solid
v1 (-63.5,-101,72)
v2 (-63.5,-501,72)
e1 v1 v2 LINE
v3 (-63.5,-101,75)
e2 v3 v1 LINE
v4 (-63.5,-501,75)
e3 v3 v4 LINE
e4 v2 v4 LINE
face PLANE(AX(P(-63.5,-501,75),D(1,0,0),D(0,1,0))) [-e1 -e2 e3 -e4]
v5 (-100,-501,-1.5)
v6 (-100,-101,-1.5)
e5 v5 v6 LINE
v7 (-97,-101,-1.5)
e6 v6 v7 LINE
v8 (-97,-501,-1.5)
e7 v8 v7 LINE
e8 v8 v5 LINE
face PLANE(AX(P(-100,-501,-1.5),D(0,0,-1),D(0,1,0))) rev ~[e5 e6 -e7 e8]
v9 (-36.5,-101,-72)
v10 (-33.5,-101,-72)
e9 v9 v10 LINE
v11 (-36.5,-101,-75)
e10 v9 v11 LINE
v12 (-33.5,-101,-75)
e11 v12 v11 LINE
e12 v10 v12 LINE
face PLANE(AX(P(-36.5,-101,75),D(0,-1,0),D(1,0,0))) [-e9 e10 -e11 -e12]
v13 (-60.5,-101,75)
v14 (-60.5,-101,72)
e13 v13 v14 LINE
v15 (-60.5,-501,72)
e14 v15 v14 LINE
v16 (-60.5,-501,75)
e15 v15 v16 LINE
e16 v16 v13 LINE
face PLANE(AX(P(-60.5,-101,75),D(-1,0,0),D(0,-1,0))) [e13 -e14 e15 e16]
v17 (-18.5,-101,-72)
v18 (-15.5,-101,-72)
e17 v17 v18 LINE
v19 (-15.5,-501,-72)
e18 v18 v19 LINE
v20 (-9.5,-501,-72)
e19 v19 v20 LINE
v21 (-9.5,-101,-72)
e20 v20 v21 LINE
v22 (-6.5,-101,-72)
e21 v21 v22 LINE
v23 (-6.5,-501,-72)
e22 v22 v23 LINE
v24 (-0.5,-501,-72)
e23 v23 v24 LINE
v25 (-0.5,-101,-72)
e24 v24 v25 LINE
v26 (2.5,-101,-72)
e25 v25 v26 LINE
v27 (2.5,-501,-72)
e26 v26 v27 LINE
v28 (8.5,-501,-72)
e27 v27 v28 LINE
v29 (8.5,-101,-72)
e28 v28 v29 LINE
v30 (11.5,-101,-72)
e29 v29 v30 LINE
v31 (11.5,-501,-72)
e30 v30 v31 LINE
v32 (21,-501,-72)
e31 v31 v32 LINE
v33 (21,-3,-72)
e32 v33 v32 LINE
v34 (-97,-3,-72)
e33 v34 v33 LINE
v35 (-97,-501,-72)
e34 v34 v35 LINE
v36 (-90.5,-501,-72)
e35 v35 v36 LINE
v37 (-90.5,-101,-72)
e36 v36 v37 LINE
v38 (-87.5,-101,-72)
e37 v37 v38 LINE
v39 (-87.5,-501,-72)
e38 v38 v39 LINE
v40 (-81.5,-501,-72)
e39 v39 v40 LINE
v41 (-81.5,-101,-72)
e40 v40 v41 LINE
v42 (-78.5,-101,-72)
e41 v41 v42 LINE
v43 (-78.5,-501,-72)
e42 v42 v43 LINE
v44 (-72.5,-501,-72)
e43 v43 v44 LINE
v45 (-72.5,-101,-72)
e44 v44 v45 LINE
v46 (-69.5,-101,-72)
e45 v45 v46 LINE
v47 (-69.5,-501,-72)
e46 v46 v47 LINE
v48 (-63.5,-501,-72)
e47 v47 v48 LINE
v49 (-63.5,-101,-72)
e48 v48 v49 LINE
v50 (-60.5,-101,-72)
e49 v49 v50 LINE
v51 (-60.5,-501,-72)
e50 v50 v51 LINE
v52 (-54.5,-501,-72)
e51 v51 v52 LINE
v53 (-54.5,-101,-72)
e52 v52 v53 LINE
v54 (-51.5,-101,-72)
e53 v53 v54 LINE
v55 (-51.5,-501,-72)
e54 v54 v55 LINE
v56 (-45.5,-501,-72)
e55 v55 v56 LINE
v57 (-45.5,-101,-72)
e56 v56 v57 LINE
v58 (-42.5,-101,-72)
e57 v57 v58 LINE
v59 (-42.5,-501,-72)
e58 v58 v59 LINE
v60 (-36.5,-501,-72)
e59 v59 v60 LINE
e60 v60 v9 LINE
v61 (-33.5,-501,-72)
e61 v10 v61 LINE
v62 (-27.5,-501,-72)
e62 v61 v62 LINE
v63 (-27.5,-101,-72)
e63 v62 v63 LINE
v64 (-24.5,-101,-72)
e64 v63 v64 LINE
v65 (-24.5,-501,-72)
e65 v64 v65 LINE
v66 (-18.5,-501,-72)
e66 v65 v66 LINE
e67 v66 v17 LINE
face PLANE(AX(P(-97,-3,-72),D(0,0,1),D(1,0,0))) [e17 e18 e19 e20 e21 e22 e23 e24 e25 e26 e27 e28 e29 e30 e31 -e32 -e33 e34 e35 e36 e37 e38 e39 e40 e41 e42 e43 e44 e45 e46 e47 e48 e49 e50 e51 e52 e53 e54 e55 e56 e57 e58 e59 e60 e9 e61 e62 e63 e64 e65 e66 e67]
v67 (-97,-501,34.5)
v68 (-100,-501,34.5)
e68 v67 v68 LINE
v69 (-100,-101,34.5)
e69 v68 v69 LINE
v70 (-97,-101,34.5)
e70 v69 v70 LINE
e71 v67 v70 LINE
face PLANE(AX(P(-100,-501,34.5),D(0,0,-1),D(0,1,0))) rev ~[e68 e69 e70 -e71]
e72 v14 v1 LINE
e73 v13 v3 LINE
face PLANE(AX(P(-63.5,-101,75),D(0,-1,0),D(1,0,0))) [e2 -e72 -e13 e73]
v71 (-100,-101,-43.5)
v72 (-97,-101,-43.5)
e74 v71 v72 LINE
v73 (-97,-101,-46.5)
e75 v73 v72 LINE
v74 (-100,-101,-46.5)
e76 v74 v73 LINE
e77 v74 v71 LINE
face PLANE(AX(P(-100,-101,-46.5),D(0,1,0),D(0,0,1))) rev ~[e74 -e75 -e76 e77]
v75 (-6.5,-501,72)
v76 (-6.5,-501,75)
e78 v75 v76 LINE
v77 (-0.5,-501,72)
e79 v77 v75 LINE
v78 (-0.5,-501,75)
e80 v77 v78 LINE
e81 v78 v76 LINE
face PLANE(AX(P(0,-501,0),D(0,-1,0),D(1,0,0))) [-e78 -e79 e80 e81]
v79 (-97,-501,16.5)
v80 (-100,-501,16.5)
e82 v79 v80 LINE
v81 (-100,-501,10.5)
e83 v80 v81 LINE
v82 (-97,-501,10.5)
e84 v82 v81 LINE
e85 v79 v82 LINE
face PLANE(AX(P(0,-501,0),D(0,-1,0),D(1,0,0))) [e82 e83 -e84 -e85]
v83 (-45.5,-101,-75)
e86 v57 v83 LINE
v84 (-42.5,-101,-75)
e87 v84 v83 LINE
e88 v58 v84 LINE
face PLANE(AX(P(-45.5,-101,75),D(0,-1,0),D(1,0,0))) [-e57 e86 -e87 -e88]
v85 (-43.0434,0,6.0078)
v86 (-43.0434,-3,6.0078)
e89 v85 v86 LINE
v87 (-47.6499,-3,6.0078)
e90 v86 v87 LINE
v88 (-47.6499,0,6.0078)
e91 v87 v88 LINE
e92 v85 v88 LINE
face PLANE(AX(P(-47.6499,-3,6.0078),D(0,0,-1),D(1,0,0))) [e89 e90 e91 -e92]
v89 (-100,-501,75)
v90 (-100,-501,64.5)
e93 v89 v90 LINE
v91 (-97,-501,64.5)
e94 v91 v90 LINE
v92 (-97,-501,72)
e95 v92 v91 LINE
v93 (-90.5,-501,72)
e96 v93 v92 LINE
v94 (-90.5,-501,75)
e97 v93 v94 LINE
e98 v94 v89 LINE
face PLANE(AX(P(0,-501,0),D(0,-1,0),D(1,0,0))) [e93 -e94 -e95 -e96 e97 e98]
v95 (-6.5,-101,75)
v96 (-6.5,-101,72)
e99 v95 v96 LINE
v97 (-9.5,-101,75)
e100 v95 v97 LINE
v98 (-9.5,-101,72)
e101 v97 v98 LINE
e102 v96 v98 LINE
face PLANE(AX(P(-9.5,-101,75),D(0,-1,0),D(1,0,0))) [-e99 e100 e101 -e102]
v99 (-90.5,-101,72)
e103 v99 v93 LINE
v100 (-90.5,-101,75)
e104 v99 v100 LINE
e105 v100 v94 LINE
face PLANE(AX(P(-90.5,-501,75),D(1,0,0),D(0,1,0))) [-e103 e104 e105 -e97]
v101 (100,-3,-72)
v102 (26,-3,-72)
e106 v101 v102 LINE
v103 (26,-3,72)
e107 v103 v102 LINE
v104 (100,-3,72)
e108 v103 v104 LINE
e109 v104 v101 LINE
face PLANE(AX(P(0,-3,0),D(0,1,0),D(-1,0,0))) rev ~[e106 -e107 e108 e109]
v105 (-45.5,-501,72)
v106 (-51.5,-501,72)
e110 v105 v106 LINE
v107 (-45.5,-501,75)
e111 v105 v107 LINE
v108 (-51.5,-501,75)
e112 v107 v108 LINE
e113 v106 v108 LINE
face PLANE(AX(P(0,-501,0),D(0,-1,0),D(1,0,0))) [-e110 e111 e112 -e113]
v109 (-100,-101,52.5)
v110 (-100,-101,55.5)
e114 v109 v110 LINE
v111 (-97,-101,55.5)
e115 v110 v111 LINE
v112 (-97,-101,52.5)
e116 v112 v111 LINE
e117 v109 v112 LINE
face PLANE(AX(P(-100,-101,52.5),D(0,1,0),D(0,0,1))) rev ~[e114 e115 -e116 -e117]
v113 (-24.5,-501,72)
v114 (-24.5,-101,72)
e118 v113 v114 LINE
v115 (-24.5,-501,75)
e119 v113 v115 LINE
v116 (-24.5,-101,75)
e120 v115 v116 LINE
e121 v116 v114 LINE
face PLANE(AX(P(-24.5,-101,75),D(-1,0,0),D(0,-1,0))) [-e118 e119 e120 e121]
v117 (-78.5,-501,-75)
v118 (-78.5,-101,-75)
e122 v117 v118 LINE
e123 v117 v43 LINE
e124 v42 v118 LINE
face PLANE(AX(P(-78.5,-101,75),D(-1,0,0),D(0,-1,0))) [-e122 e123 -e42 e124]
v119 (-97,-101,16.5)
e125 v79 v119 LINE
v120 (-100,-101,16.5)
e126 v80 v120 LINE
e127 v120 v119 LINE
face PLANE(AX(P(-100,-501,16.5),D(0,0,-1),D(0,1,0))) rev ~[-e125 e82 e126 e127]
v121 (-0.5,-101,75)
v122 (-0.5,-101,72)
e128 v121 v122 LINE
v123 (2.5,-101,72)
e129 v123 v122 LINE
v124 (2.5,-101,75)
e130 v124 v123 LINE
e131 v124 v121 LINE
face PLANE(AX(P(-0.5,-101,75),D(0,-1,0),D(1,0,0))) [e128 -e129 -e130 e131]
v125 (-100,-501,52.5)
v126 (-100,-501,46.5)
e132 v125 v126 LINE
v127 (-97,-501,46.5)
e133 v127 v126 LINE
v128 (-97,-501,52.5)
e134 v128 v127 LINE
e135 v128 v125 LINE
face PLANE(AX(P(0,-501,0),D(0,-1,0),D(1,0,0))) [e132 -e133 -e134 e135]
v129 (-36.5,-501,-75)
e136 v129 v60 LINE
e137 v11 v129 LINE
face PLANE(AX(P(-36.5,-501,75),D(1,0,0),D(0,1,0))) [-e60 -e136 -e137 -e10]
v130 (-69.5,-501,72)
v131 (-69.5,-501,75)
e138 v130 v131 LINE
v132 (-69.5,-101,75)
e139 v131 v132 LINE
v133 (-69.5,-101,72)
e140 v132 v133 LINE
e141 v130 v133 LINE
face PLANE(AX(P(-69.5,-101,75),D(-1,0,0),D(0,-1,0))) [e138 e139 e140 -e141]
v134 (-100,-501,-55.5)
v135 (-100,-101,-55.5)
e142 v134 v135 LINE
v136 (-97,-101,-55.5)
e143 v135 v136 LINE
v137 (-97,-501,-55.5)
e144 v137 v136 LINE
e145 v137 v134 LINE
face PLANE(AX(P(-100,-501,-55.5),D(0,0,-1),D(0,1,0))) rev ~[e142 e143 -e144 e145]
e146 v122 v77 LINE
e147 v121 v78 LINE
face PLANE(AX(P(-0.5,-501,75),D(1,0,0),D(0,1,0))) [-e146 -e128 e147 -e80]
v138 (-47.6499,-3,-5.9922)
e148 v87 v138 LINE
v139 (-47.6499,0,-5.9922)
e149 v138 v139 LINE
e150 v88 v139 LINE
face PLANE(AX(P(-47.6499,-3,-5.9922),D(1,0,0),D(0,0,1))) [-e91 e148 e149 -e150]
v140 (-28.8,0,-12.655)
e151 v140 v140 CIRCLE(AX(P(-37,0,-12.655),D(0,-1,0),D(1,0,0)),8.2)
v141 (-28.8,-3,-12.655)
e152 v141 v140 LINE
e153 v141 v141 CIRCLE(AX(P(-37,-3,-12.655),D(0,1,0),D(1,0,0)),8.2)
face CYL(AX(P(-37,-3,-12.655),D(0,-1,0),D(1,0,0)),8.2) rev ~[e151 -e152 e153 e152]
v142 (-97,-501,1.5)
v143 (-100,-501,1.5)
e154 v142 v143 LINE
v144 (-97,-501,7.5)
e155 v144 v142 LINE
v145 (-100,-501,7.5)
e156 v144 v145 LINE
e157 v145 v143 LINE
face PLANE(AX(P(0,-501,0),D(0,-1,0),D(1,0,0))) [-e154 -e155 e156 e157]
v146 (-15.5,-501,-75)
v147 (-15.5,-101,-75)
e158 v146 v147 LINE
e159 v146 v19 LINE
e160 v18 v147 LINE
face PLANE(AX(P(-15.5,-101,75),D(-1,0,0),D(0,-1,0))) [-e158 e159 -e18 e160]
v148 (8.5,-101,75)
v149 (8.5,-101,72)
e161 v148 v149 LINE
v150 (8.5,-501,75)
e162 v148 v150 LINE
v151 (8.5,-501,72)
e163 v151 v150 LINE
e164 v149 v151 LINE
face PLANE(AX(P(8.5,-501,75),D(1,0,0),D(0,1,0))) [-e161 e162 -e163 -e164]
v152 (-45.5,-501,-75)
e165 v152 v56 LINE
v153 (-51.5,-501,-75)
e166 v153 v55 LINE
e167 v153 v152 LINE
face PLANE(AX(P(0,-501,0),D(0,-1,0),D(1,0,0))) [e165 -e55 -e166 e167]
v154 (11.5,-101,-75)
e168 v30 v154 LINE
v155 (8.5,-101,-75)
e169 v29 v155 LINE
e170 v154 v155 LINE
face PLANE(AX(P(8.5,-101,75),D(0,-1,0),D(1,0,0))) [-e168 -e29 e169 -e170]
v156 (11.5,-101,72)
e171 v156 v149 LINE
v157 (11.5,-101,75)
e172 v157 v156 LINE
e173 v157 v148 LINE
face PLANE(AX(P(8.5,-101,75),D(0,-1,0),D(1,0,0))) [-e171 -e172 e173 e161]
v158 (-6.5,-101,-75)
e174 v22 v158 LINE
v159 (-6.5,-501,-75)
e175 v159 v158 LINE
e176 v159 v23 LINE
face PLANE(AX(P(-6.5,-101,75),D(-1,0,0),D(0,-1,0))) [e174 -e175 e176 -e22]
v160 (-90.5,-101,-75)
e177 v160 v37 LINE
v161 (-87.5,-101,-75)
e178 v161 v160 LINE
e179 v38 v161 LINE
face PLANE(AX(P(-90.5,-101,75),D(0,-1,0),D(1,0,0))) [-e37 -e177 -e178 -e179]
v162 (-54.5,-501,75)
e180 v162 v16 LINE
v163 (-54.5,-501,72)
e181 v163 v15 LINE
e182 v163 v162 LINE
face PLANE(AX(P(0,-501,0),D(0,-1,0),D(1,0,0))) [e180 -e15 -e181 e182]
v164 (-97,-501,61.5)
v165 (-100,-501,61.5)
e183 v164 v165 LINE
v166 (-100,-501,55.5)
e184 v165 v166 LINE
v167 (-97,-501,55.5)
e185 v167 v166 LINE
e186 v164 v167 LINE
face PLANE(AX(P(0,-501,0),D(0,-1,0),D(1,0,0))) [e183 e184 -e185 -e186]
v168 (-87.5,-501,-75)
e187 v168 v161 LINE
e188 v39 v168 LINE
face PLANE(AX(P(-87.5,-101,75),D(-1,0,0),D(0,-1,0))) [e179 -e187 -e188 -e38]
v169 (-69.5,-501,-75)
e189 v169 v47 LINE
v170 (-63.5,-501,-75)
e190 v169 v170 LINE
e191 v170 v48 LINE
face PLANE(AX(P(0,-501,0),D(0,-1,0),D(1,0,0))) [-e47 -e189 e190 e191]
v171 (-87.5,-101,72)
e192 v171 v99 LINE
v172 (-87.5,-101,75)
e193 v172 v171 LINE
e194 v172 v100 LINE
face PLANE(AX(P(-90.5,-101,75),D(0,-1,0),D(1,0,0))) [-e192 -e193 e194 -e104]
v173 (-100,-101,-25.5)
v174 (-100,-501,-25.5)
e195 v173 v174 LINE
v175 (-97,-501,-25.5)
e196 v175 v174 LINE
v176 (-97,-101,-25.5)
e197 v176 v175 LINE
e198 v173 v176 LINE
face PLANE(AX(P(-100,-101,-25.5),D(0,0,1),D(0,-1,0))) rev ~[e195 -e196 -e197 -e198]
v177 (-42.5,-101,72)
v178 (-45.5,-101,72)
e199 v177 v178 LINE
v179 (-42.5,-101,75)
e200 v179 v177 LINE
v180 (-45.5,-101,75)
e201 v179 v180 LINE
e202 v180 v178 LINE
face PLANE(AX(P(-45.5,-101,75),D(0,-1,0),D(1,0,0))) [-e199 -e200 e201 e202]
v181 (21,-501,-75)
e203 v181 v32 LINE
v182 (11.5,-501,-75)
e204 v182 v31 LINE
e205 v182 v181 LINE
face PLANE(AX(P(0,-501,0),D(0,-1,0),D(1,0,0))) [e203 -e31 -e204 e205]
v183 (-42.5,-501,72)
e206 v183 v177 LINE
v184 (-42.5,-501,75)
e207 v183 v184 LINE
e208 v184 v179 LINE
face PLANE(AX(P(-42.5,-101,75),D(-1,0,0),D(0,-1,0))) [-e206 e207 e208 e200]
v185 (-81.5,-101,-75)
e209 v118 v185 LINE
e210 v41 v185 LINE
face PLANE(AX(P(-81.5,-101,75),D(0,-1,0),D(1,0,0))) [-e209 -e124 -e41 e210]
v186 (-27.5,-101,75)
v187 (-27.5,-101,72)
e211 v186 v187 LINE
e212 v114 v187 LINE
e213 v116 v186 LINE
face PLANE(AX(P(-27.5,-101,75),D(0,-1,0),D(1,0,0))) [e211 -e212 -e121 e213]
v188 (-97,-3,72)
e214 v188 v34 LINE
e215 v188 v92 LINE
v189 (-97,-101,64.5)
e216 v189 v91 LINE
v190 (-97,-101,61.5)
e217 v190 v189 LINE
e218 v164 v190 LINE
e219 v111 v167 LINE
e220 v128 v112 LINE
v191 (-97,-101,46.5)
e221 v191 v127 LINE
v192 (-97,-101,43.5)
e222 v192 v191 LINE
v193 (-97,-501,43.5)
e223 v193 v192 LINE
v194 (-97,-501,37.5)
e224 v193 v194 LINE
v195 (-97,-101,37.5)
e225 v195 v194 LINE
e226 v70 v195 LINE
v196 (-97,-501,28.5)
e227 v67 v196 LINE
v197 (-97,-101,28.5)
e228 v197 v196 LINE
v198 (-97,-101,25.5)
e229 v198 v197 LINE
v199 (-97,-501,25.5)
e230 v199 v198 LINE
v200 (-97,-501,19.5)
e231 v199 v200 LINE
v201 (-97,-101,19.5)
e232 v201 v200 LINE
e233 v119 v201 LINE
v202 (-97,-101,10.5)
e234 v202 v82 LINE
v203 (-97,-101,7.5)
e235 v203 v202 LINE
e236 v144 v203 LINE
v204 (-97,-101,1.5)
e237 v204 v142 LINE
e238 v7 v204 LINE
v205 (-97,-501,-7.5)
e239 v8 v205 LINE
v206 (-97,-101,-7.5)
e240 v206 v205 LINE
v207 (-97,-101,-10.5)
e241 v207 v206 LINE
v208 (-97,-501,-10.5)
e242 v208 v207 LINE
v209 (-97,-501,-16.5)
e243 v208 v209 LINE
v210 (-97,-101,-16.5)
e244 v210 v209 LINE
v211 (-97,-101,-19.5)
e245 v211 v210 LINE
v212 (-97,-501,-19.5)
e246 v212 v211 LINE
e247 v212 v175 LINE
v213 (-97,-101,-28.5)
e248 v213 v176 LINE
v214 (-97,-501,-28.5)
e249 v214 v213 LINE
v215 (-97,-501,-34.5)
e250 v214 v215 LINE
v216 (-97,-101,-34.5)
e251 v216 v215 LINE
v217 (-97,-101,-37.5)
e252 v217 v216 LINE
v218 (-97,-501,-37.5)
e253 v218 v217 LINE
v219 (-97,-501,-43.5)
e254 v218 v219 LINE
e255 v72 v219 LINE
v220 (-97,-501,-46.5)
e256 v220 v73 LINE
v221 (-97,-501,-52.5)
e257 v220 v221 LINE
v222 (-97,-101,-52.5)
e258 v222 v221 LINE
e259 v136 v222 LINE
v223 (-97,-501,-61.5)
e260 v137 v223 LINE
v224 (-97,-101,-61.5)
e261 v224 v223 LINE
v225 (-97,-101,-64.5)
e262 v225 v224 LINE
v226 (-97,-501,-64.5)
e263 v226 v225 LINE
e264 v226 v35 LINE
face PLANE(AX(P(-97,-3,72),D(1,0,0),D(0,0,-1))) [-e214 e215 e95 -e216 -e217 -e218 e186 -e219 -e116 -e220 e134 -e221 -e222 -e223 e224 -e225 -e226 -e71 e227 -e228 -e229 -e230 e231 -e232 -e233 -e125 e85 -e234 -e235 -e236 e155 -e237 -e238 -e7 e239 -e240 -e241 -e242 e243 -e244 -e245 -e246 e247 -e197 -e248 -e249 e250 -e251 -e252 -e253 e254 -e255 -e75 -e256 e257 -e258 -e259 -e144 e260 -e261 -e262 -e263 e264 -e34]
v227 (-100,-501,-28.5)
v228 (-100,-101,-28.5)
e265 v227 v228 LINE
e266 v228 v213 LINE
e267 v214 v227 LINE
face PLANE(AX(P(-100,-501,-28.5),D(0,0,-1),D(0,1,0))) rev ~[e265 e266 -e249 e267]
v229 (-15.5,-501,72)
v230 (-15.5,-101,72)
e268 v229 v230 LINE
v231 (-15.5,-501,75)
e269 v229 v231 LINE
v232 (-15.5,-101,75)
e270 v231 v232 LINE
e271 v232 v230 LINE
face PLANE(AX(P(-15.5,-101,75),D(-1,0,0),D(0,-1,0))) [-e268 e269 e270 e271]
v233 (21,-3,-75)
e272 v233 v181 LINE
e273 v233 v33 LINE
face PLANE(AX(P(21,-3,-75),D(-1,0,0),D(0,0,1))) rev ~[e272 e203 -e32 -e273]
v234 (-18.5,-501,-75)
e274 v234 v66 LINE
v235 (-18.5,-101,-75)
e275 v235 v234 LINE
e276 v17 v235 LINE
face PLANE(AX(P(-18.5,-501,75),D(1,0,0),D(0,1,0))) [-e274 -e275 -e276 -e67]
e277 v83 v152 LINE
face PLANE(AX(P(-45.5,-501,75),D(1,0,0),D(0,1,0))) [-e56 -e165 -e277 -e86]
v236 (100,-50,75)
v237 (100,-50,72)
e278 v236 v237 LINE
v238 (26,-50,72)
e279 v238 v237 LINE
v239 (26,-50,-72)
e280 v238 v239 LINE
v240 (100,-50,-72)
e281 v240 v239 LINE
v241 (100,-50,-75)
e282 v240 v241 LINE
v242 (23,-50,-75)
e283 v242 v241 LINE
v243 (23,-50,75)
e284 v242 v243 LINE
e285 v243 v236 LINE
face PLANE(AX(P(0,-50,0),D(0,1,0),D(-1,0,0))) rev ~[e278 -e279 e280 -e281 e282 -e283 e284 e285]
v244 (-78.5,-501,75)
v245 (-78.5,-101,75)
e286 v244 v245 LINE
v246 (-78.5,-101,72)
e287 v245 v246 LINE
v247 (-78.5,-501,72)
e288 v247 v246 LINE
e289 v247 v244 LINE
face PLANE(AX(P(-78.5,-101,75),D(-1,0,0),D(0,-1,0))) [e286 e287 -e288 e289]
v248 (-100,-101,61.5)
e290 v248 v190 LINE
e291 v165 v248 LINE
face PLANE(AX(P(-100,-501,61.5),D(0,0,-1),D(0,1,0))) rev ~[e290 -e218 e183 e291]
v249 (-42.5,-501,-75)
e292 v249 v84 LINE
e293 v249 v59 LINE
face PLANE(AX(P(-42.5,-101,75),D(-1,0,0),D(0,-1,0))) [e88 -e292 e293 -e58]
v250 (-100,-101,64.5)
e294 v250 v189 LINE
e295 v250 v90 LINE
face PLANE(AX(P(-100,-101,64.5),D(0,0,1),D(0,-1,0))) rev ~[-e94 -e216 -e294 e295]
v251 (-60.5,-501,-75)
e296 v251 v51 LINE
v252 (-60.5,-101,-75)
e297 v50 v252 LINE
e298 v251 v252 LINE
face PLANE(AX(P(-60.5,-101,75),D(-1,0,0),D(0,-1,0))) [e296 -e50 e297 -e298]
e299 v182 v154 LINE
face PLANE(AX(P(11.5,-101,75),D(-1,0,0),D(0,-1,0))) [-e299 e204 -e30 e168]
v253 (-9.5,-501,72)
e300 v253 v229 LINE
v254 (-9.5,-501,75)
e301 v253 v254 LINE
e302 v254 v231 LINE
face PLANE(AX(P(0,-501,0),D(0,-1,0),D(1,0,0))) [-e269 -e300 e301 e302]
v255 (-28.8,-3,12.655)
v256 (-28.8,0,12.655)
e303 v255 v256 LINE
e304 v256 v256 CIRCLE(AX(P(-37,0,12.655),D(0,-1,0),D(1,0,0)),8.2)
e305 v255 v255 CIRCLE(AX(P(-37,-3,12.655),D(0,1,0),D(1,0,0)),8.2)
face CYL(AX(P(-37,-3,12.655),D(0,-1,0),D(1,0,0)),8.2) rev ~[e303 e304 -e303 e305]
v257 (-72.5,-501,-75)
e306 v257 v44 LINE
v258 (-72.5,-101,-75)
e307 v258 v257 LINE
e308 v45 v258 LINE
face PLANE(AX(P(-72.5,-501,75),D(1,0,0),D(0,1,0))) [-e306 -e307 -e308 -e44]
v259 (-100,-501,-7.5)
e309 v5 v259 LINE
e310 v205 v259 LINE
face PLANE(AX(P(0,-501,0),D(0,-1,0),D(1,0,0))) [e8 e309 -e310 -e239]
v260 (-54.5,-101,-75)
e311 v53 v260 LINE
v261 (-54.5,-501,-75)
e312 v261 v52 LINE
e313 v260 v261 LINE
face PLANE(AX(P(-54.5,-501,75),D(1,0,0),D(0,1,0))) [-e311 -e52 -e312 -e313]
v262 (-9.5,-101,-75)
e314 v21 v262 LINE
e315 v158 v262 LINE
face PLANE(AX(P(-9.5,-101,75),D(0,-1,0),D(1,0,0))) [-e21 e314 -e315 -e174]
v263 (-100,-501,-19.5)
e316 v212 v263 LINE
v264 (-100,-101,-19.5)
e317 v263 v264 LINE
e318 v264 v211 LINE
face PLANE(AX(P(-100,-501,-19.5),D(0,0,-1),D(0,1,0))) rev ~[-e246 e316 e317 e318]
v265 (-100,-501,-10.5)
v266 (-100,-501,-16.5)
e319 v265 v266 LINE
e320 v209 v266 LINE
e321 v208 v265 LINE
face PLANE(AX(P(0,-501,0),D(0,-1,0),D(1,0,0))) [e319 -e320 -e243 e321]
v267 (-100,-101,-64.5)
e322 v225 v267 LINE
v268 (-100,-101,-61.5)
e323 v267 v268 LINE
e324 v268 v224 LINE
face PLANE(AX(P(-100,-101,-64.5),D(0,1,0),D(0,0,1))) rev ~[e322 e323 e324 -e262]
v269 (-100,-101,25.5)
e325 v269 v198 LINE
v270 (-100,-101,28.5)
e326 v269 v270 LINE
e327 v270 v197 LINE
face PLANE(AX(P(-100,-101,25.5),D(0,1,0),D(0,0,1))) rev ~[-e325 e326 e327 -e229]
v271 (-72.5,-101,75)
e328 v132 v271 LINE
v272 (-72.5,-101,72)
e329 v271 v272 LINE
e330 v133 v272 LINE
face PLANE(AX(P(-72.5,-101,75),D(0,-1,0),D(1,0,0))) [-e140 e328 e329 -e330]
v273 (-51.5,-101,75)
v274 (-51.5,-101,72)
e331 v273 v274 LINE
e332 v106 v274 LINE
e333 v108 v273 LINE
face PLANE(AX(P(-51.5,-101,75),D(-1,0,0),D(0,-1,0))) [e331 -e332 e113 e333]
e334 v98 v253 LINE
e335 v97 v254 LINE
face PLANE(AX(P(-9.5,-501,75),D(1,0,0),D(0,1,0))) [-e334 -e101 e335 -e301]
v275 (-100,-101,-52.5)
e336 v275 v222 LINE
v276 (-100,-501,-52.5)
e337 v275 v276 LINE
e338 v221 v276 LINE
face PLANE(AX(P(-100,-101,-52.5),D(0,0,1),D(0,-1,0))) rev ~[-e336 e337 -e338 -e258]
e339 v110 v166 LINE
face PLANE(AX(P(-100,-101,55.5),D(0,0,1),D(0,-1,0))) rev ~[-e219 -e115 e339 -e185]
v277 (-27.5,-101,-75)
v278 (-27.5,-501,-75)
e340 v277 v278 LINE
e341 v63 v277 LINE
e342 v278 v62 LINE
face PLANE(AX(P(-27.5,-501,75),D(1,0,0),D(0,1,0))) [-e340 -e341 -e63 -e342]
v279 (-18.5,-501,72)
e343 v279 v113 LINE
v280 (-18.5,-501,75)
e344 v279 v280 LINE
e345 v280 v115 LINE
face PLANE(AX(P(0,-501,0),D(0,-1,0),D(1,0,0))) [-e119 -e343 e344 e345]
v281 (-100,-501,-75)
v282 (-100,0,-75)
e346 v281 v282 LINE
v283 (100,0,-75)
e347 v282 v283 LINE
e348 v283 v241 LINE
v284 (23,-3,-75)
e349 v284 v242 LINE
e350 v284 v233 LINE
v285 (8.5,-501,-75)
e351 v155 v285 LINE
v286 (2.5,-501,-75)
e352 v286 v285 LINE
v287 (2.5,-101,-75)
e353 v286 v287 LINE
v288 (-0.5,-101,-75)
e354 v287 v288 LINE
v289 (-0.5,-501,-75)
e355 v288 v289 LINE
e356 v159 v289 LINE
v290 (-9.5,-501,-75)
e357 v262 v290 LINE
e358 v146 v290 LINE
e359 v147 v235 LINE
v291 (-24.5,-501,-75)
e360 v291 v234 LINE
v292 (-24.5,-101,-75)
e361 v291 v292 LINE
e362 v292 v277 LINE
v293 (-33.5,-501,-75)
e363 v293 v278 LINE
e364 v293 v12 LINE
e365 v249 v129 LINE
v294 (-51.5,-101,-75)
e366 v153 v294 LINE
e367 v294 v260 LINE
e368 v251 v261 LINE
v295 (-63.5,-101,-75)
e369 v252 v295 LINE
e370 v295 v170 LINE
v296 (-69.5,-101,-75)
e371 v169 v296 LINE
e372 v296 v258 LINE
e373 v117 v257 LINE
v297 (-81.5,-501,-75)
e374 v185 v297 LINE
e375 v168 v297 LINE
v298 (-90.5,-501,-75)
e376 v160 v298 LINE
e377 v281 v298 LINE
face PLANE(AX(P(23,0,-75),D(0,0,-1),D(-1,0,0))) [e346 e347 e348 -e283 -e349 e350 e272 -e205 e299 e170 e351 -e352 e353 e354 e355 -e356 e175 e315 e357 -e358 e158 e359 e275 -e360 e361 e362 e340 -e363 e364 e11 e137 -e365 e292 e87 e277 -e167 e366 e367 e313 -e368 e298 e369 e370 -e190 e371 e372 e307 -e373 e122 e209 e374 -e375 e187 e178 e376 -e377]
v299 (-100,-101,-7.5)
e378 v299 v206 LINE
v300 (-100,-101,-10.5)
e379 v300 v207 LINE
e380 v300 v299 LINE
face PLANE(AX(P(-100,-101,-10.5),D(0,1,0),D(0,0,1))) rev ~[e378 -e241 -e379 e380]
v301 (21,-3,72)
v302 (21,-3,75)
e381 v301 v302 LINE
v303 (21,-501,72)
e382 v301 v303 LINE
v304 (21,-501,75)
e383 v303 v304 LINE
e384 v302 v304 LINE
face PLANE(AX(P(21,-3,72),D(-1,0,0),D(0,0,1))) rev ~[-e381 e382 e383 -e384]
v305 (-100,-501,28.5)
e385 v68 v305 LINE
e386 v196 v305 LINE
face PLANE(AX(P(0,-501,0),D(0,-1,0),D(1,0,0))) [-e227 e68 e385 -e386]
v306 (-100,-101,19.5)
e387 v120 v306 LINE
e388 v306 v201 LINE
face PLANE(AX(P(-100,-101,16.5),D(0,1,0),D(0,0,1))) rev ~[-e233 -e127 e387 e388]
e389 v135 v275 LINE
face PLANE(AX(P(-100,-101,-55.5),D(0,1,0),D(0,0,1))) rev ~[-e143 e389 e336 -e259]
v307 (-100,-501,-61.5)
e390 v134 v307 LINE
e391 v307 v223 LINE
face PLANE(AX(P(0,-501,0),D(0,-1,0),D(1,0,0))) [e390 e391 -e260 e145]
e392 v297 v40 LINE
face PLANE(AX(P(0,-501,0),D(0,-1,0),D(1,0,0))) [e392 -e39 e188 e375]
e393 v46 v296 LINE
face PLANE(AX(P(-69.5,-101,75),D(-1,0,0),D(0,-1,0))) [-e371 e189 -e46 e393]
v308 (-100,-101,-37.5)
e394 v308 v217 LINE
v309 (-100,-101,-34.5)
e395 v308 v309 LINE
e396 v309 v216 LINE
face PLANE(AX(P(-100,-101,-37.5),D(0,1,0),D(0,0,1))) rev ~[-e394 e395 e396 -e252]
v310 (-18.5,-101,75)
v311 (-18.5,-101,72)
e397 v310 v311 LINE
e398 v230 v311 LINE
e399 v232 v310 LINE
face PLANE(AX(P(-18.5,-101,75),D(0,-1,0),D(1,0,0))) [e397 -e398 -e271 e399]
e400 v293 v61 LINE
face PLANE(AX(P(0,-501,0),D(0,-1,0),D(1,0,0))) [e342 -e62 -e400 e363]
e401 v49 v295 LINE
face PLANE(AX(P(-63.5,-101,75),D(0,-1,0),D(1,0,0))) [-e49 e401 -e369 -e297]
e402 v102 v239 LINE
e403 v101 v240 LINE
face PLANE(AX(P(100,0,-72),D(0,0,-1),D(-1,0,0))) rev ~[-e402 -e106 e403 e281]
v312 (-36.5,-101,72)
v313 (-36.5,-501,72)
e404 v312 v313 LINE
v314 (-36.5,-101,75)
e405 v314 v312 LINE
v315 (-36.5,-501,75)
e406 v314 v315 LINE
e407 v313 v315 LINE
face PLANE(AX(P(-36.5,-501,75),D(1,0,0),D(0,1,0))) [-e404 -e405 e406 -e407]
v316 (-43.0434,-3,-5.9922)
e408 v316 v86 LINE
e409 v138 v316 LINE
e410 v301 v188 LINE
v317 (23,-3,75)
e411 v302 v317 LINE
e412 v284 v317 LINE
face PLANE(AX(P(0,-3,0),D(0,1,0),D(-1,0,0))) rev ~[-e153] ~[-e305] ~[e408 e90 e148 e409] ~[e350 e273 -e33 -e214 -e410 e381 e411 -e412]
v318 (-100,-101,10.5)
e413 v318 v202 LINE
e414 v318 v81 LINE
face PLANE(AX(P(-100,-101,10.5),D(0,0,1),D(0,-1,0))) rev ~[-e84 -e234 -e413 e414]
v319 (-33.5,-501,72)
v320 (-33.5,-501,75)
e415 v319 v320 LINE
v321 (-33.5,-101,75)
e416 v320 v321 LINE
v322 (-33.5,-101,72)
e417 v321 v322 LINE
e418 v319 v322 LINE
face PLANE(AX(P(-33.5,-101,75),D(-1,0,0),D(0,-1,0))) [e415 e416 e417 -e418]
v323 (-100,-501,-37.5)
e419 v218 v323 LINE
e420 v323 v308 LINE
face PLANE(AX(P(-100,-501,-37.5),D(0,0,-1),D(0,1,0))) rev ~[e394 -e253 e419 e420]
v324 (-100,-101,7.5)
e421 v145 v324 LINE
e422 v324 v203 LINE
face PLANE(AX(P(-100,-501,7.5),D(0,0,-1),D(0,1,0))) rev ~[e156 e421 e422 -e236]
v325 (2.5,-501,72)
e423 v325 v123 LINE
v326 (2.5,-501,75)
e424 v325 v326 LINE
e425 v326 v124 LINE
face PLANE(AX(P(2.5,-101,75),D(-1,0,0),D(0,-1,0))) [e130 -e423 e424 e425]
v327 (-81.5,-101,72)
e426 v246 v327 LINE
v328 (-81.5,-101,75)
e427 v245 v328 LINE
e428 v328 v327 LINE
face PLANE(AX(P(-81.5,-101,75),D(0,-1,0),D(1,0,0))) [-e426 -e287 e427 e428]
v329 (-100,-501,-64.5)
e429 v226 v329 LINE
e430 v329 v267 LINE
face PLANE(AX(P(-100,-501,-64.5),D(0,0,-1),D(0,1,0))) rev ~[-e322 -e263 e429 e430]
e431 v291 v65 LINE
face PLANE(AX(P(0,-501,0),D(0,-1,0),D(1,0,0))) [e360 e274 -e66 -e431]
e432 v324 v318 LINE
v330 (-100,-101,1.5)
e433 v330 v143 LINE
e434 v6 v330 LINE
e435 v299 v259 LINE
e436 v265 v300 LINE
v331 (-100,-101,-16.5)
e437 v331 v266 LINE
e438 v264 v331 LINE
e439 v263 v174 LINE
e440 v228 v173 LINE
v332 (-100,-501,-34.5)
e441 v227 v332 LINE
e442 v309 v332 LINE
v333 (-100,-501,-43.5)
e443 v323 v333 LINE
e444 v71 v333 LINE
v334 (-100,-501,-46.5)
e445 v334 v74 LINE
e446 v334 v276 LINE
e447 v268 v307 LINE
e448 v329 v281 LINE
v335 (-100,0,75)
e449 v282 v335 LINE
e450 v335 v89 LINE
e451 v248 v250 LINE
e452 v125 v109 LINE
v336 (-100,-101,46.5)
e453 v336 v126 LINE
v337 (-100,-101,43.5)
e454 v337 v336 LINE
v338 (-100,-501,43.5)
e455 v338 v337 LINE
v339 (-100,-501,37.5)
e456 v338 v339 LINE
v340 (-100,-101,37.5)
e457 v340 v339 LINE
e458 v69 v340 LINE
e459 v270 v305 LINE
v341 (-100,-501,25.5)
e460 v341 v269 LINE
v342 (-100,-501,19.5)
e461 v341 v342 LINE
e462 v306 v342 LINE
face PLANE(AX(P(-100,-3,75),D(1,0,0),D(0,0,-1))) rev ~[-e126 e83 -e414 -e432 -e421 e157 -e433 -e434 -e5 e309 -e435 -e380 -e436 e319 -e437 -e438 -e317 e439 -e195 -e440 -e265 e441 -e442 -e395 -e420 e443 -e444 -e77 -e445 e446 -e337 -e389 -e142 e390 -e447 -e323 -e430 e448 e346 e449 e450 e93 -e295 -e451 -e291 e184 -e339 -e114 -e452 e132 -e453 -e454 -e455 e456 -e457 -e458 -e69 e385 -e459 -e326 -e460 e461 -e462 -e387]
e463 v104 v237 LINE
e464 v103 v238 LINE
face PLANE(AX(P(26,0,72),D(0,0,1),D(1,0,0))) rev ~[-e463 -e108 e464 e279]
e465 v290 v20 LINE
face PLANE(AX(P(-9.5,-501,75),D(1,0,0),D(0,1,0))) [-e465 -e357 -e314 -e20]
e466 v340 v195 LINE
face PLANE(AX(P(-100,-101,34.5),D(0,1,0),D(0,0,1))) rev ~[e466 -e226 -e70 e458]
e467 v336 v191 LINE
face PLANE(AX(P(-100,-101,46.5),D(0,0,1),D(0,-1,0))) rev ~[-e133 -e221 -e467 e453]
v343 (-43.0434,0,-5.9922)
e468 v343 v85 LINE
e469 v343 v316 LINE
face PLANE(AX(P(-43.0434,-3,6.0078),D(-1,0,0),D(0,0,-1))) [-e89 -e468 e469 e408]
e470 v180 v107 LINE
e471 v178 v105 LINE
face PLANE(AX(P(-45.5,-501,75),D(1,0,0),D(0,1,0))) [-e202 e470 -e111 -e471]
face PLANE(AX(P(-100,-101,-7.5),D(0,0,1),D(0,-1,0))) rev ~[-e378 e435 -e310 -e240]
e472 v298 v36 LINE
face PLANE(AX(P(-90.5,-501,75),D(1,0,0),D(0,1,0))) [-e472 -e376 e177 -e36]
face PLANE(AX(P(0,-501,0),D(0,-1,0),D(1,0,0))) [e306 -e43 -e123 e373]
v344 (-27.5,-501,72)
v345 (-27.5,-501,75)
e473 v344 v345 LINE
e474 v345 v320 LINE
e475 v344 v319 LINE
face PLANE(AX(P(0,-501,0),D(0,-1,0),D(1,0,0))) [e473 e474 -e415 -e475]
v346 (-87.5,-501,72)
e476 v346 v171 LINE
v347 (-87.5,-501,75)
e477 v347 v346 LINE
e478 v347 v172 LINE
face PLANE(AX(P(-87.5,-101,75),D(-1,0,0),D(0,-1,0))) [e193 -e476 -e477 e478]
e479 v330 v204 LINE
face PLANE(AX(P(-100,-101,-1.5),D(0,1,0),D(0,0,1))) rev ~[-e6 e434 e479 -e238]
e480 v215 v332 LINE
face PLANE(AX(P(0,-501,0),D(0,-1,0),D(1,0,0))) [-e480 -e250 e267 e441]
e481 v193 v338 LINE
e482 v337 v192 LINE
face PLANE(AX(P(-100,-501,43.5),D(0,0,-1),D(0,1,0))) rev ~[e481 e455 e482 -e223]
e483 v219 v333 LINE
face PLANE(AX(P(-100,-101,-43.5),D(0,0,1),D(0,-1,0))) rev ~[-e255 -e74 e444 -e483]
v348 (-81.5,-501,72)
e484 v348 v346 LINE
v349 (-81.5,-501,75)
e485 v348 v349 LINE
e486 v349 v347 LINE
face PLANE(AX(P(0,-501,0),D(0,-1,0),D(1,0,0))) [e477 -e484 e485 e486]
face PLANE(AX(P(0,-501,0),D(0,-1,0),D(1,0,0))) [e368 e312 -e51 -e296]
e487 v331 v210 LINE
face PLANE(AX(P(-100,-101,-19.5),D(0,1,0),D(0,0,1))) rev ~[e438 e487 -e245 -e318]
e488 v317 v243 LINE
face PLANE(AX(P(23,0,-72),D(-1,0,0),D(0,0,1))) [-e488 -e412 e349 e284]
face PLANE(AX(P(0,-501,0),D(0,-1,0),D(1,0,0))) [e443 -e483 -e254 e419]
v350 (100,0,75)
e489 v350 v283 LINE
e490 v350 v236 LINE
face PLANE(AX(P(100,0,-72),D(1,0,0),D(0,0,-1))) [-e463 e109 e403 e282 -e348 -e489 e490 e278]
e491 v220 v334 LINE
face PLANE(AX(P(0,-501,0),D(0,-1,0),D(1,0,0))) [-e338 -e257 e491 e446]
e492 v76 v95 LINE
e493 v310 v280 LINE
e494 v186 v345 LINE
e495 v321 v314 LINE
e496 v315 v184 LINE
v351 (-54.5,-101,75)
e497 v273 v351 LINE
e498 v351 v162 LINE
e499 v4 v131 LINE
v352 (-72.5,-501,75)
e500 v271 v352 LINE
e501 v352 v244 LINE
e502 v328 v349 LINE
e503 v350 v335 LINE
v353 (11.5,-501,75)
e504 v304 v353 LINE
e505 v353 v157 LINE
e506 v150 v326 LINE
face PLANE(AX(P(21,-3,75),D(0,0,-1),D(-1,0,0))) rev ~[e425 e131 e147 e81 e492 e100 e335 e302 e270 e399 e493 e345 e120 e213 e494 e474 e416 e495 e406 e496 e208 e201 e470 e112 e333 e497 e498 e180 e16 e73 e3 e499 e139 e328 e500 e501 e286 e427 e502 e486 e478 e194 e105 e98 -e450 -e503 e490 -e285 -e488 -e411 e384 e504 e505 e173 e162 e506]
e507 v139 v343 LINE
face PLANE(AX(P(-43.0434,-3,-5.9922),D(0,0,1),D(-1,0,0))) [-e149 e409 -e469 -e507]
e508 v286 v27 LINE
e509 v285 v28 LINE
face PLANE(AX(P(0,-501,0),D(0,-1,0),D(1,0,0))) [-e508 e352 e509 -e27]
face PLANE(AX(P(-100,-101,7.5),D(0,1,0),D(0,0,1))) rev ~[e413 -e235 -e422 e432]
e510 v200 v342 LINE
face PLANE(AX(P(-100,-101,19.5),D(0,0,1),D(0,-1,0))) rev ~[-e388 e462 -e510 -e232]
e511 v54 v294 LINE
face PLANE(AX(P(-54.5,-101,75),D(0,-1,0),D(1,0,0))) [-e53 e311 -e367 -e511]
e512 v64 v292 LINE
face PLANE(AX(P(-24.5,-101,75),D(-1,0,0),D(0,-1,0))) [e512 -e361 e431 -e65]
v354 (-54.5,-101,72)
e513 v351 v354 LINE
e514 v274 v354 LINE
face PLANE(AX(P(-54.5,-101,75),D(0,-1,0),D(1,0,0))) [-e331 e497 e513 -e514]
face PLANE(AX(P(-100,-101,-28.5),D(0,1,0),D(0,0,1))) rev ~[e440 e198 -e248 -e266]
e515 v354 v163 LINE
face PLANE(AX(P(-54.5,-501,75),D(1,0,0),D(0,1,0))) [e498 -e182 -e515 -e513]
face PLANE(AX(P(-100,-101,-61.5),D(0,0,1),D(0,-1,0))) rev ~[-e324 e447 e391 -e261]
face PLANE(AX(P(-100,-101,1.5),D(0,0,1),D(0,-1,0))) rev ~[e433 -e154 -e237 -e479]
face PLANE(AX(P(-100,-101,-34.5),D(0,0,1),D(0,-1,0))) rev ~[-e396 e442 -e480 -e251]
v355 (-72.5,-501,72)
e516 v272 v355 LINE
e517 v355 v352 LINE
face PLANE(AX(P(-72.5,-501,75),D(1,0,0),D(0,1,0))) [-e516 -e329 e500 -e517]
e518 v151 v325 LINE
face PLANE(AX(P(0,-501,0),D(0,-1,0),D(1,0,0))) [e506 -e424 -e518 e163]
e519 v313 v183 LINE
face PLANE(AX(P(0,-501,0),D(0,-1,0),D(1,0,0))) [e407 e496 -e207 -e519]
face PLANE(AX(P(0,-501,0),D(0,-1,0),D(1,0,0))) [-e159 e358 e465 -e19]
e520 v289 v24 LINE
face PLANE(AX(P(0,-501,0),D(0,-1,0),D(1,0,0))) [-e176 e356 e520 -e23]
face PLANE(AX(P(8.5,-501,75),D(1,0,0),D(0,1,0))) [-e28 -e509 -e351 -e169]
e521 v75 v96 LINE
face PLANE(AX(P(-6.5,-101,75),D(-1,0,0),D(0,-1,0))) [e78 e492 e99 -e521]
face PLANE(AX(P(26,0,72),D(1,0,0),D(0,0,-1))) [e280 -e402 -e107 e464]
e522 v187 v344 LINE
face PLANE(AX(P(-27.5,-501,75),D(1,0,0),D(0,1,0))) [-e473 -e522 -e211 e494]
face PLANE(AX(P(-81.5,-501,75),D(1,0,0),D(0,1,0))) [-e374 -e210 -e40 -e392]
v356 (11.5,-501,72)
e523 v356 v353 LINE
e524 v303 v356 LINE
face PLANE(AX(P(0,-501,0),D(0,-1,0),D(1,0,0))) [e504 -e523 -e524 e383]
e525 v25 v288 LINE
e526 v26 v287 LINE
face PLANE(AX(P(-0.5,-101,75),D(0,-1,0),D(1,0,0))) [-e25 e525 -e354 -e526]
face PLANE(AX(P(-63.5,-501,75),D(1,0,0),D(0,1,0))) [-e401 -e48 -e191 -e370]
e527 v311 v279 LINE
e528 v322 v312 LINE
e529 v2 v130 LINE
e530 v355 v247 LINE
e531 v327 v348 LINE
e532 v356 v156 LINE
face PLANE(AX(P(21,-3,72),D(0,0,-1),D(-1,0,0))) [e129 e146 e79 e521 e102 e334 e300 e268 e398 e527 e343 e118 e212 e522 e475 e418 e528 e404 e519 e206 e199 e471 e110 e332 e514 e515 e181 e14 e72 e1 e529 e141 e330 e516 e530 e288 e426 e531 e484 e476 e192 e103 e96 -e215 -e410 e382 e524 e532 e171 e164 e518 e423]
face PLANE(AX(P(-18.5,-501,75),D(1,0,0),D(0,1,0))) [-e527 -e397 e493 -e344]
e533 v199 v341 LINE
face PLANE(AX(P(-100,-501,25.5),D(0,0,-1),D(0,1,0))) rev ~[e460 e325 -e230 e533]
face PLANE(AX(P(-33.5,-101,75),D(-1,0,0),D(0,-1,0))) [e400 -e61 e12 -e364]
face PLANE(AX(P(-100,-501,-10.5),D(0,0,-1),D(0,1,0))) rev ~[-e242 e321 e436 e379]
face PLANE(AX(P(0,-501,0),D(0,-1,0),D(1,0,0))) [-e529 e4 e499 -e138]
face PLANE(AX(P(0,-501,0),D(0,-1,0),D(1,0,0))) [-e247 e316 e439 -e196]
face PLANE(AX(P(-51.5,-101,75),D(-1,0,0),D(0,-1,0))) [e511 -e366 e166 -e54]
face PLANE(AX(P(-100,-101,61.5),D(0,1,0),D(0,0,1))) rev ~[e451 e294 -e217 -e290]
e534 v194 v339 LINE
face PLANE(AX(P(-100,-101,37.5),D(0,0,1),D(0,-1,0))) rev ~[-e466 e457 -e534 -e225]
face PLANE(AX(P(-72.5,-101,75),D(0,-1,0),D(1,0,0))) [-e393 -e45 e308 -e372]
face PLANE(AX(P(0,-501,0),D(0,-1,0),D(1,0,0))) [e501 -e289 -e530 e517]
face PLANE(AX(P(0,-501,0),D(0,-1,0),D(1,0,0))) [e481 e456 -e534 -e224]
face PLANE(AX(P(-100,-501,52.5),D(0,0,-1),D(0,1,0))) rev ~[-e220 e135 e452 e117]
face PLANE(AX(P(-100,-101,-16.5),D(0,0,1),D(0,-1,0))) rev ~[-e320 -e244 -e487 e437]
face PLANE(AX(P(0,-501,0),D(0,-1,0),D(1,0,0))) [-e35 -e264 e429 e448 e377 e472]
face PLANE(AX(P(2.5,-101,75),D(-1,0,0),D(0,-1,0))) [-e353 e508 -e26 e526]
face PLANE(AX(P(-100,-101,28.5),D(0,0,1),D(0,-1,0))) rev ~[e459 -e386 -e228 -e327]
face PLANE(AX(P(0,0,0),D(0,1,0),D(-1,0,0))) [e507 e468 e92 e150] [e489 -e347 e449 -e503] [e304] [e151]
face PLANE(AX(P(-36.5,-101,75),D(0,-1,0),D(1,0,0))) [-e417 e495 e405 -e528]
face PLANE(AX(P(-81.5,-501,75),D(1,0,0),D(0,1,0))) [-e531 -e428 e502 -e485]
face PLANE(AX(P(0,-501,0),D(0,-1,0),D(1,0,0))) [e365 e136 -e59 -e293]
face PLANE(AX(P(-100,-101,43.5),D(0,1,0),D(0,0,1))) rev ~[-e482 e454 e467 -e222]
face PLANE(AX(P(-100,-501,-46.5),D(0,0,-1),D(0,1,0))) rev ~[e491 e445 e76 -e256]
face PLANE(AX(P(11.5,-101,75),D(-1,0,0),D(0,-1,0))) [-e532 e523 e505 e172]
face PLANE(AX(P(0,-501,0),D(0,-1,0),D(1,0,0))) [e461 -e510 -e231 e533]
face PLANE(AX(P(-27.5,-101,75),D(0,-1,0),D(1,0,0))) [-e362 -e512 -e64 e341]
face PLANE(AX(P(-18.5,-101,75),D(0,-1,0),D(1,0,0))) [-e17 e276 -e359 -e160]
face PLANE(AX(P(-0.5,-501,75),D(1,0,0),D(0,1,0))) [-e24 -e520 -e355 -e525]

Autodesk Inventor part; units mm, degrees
ref_plane "YZ Plane" through (0, 0, 0) normal (1, 0, 0) x (0, 1, 0)
ref_plane "XZ Plane" through (0, 0, 0) normal (0, 1, 0) x (-1, 0, 0)
ref_plane "XY Plane" through (0, 0, 0) normal (0, 0, 1) x (1, 0, 0)
sketch "Sketch1" plane through (0, 0, 0) normal (0, 1, 0) x (-1, 0, 0)
  line L0 (100, 75) -> (-100, 75)
  line L1 (-100, 75) -> (-100, -75)
  line L2 (-100, -75) -> (100, -75)
  line L3 (100, -75) -> (100, 75)
  line L4 (100, 75) -> (-100, -75) construction
  line L5 (-100, 75) -> (100, -75) construction
  line L6 (-23, 75) -> (-26, 75)
  line L7 (-26, 75) -> (-26, -75)
  line L8 (-26, -75) -> (-23, -75)
  line L9 (-23, -72) -> (-23, 75)
  line L10 (-23, 75) -> (-26, -75) construction
  line L11 (-26, 75) -> (-23, -75) construction
  line L12 (-26, 72) -> (-100, 72)
  line L13 (-100, -72) -> (-26, -72)
  line L14 (-23, -72) -> (-23, -75)
  point P0 (0, 0)
  point P1 (-24.5, 0)
  point P2 (-26, -72)
  point P3 (-26, 72)
  dimension "d11" = 200
  dimension "d12" = 150
  dimension "d18" = 3
  dimension "d19" = 150
extrude "Extrusion5" add sketch "Sketch1" against normal blind 3 contours L3 L2 L14 L9 L0
extrude "Extrusion6" add sketch "Sketch1" against normal blind 3 contours L7 L13 L1 L12
extrude "Extrusion7" add sketch "Sketch1" against normal blind 50 contours L9 L14 L2 L7 L0 | L7 L12 L1 L0 | L2 L1 L13 L7
sketch "Sketch2" plane through (0, -3, 0) normal (0, -1, 0) x (1, 0, 0)
  line L0 (21, 72) -> (-97, 72)
  line L1 (-97, 72) -> (-97, -72)
  line L2 (-97, -72) -> (21, -72)
  line L3 (21, 72) -> (-97, -72) construction
  line L4 (-97, 72) -> (21, -72) construction
  line L5 (23, 75) -> (-100, 75) projected
  line L6 (-100, -75) -> (23, -75) projected
  line L7 (-100, 75) -> (-100, -75) projected
  line L8 (23, -75) -> (23, 75) projected
  line L9 (21, -75) -> (21, -72)
  line L10 (21, 72) -> (21, 75)
  point P0 (0, 0)
  point P1 (-38, 0)
  dimension "d36" = 3
  dimension "d37" = 3
  dimension "d38" = 3
extrude "Extrusion8" add sketch "Sketch2" along normal blind 498 contours L0 L1 L2 L9 L6 L7 L5 L10
sketch "Sketch3" plane through (0, -3, 0) normal (0, -1, 0) x (1, 0, 0)
  circle A0 centre (-37, -12.655) radius 8.2
  circle A1 centre (-37, 12.655) radius 8.2
  line L0 (-43.0434, -5.9922) -> (-47.6499, -5.9922)
  line L1 (-47.6499, -5.9922) -> (-47.6499, 6.0078)
  line L2 (-47.6499, 6.0078) -> (-43.0434, 6.0078)
  line L3 (-43.0434, 6.0078) -> (-43.0434, -5.9922)
  line L4 (-43.0434, -5.9922) -> (-47.6499, 6.0078) construction
  line L5 (-47.6499, -5.9922) -> (-43.0434, 6.0078) construction
  line L6 (-97, -72) -> (-97, 72) projected
  line L7 (-37, 12.655) -> (-37, -12.655)
  point P0 (0, 0)
  point P1 (-45.3467, 0.0078)
  dimension "d42" = 16.4
  dimension "d43" = 16.4
  dimension "d44" = 25.31
  dimension "d45" = 4.6065
  dimension "d46" = 12
  dimension "d47" = 12.6628
  dimension "d48" = 8.3467
extrude "Extrusion9" cut sketch "Sketch3" against normal mid plane 20
sketch "Sketch5" plane through (-100, 0, 75) normal (0, 0, 1) x (1, 0, 0)
  line L0 (9.5, -101) -> (12.5, -101)
  line L1 (12.5, -101) -> (12.5, -501)
  line L2 (12.5, -501) -> (9.5, -501)
  line L3 (9.5, -501) -> (9.5, -101)
  line L4 (9.5, -101) -> (12.5, -501) construction
  line L5 (12.5, -101) -> (9.5, -501) construction
  line L6 (121, -501) -> (0, -501) projected
  line L7 (0, 0) -> (0, -501) projected
  line L8 (18.5, -101) -> (21.5, -101)
  line L9 (21.5, -101) -> (21.5, -501)
  line L10 (18.5, -501) -> (18.5, -101)
  line L11 (18.5, -101) -> (21.5, -501) construction
  line L12 (21.5, -101) -> (18.5, -501) construction
  line L13 (21.5, -501) -> (18.5, -501)
  line L14 (27.5, -101) -> (30.5, -101)
  line L15 (30.5, -101) -> (30.5, -501)
  line L16 (27.5, -501) -> (27.5, -101)
  line L17 (27.5, -101) -> (30.5, -501) construction
  line L18 (30.5, -101) -> (27.5, -501) construction
  line L19 (30.5, -501) -> (27.5, -501)
  line L20 (36.5, -101) -> (39.5, -101)
  line L21 (39.5, -101) -> (39.5, -501)
  line L22 (36.5, -501) -> (36.5, -101)
  line L23 (36.5, -101) -> (39.5, -501) construction
  line L24 (39.5, -101) -> (36.5, -501) construction
  line L25 (39.5, -501) -> (36.5, -501)
  line L26 (45.5, -101) -> (48.5, -101)
  line L27 (48.5, -101) -> (48.5, -501)
  line L28 (45.5, -501) -> (45.5, -101)
  line L29 (45.5, -101) -> (48.5, -501) construction
  line L30 (48.5, -101) -> (45.5, -501) construction
  line L31 (48.5, -501) -> (45.5, -501)
  line L32 (54.5, -101) -> (57.5, -101)
  line L33 (57.5, -101) -> (57.5, -501)
  line L34 (54.5, -501) -> (54.5, -101)
  line L35 (54.5, -101) -> (57.5, -501) construction
  line L36 (57.5, -101) -> (54.5, -501) construction
  line L37 (57.5, -501) -> (54.5, -501)
  line L38 (63.5, -101) -> (66.5, -101)
  line L39 (66.5, -101) -> (66.5, -501)
  line L40 (63.5, -501) -> (63.5, -101)
  line L41 (63.5, -101) -> (66.5, -501) construction
  line L42 (66.5, -101) -> (63.5, -501) construction
  line L43 (66.5, -501) -> (63.5, -501)
  line L44 (72.5, -101) -> (75.5, -101)
  line L45 (75.5, -101) -> (75.5, -501)
  line L46 (72.5, -501) -> (72.5, -101)
  line L47 (72.5, -101) -> (75.5, -501) construction
  line L48 (75.5, -101) -> (72.5, -501) construction
  line L49 (75.5, -501) -> (72.5, -501)
  line L50 (81.5, -101) -> (84.5, -101)
  line L51 (84.5, -101) -> (84.5, -501)
  line L52 (81.5, -501) -> (81.5, -101)
  line L53 (81.5, -101) -> (84.5, -501) construction
  line L54 (84.5, -101) -> (81.5, -501) construction
  line L55 (84.5, -501) -> (81.5, -501)
  line L56 (90.5, -101) -> (93.5, -101)
  line L57 (93.5, -101) -> (93.5, -501)
  line L58 (90.5, -501) -> (90.5, -101)
  line L59 (90.5, -101) -> (93.5, -501) construction
  line L60 (93.5, -101) -> (90.5, -501) construction
  line L61 (93.5, -501) -> (90.5, -501)
  line L62 (99.5, -101) -> (102.5, -101)
  line L63 (102.5, -101) -> (102.5, -501)
  line L64 (99.5, -501) -> (99.5, -101)
  line L65 (99.5, -101) -> (102.5, -501) construction
  line L66 (102.5, -101) -> (99.5, -501) construction
  line L67 (102.5, -501) -> (99.5, -501)
  line L68 (108.5, -101) -> (111.5, -101)
  line L69 (111.5, -101) -> (111.5, -501)
  line L70 (108.5, -501) -> (108.5, -101)
  line L71 (108.5, -101) -> (111.5, -501) construction
  line L72 (111.5, -101) -> (108.5, -501) construction
  line L73 (111.5, -501) -> (108.5, -501)
  point P0 (100, 0)
  point P1 (11, -301)
  point P2 (11, -501)
  point P3 (20, -301)
  point P4 (20, -501)
  point P5 (29, -301)
  point P6 (29, -501)
  point P7 (38, -301)
  point P8 (38, -501)
  point P9 (47, -301)
  point P10 (47, -501)
  point P11 (56, -301)
  point P12 (56, -501)
  point P13 (65, -301)
  point P14 (65, -501)
  point P15 (74, -301)
  point P16 (74, -501)
  point P17 (83, -301)
  point P18 (83, -501)
  point P19 (92, -301)
  point P20 (92, -501)
  point P21 (101, -301)
  point P22 (101, -501)
  point P23 (110, -301)
  point P24 (110, -501)
  point P25 (57.5, -501)
  dimension "d63" = 3
  dimension "d64" = 400
  dimension "d65" = 9.5
  dimension "d68" = 9
extrude "Extrusion10" cut sketch "Sketch5" against normal mid plane 500
sketch "Sketch6" plane through (-100, 0, -75) normal (-1, 0, 0) x (0, 0, 1)
  line L0 (10.5, -101) -> (13.5, -101)
  line L1 (13.5, -101) -> (13.5, -501)
  line L2 (13.5, -501) -> (10.5, -501)
  line L3 (10.5, -501) -> (10.5, -101)
  line L4 (10.5, -101) -> (13.5, -501) construction
  line L5 (13.5, -101) -> (10.5, -501) construction
  line L6 (150, -501) -> (0, -501) projected
  line L7 (0, 0) -> (0, -501) projected
  line L8 (19.5, -101) -> (22.5, -101)
  line L9 (22.5, -101) -> (22.5, -501)
  line L10 (19.5, -501) -> (19.5, -101)
  line L11 (19.5, -101) -> (22.5, -501) construction
  line L12 (22.5, -101) -> (19.5, -501) construction
  line L13 (22.5, -501) -> (19.5, -501)
  line L14 (28.5, -101) -> (31.5, -101)
  line L15 (31.5, -101) -> (31.5, -501)
  line L16 (28.5, -501) -> (28.5, -101)
  line L17 (28.5, -101) -> (31.5, -501) construction
  line L18 (31.5, -101) -> (28.5, -501) construction
  line L19 (31.5, -501) -> (28.5, -501)
  line L20 (37.5, -101) -> (40.5, -101)
  line L21 (40.5, -101) -> (40.5, -501)
  line L22 (37.5, -501) -> (37.5, -101)
  line L23 (37.5, -101) -> (40.5, -501) construction
  line L24 (40.5, -101) -> (37.5, -501) construction
  line L25 (40.5, -501) -> (37.5, -501)
  line L26 (46.5, -101) -> (49.5, -101)
  line L27 (49.5, -101) -> (49.5, -501)
  line L28 (46.5, -501) -> (46.5, -101)
  line L29 (46.5, -101) -> (49.5, -501) construction
  line L30 (49.5, -101) -> (46.5, -501) construction
  line L31 (49.5, -501) -> (46.5, -501)
  line L32 (55.5, -101) -> (58.5, -101)
  line L33 (58.5, -101) -> (58.5, -501)
  line L34 (55.5, -501) -> (55.5, -101)
  line L35 (55.5, -101) -> (58.5, -501) construction
  line L36 (58.5, -101) -> (55.5, -501) construction
  line L37 (58.5, -501) -> (55.5, -501)
  line L38 (64.5, -101) -> (67.5, -101)
  line L39 (67.5, -101) -> (67.5, -501)
  line L40 (64.5, -501) -> (64.5, -101)
  line L41 (64.5, -101) -> (67.5, -501) construction
  line L42 (67.5, -101) -> (64.5, -501) construction
  line L43 (67.5, -501) -> (64.5, -501)
  line L44 (73.5, -101) -> (76.5, -101)
  line L45 (76.5, -101) -> (76.5, -501)
  line L46 (73.5, -501) -> (73.5, -101)
  line L47 (73.5, -101) -> (76.5, -501) construction
  line L48 (76.5, -101) -> (73.5, -501) construction
  line L49 (76.5, -501) -> (73.5, -501)
  line L50 (82.5, -101) -> (85.5, -101)
  line L51 (85.5, -101) -> (85.5, -501)
  line L52 (82.5, -501) -> (82.5, -101)
  line L53 (82.5, -101) -> (85.5, -501) construction
  line L54 (85.5, -101) -> (82.5, -501) construction
  line L55 (85.5, -501) -> (82.5, -501)
  line L56 (91.5, -101) -> (94.5, -101)
  line L57 (94.5, -101) -> (94.5, -501)
  line L58 (91.5, -501) -> (91.5, -101)
  line L59 (91.5, -101) -> (94.5, -501) construction
  line L60 (94.5, -101) -> (91.5, -501) construction
  line L61 (94.5, -501) -> (91.5, -501)
  line L62 (100.5, -101) -> (103.5, -101)
  line L63 (103.5, -101) -> (103.5, -501)
  line L64 (100.5, -501) -> (100.5, -101)
  line L65 (100.5, -101) -> (103.5, -501) construction
  line L66 (103.5, -101) -> (100.5, -501) construction
  line L67 (103.5, -501) -> (100.5, -501)
  line L68 (109.5, -101) -> (112.5, -101)
  line L69 (112.5, -101) -> (112.5, -501)
  line L70 (109.5, -501) -> (109.5, -101)
  line L71 (109.5, -101) -> (112.5, -501) construction
  line L72 (112.5, -101) -> (109.5, -501) construction
  line L73 (112.5, -501) -> (109.5, -501)
  line L74 (118.5, -101) -> (121.5, -101)
  line L75 (121.5, -101) -> (121.5, -501)
  line L76 (118.5, -501) -> (118.5, -101)
  line L77 (118.5, -101) -> (121.5, -501) construction
  line L78 (121.5, -101) -> (118.5, -501) construction
  line L79 (121.5, -501) -> (118.5, -501)
  line L80 (127.5, -101) -> (130.5, -101)
  line L81 (130.5, -101) -> (130.5, -501)
  line L82 (127.5, -501) -> (127.5, -101)
  line L83 (127.5, -101) -> (130.5, -501) construction
  line L84 (130.5, -101) -> (127.5, -501) construction
  line L85 (130.5, -501) -> (127.5, -501)
  line L86 (136.5, -101) -> (139.5, -101)
  line L87 (139.5, -101) -> (139.5, -501)
  line L88 (136.5, -501) -> (136.5, -101)
  line L89 (136.5, -101) -> (139.5, -501) construction
  line L90 (139.5, -101) -> (136.5, -501) construction
  line L91 (139.5, -501) -> (136.5, -501)
  point P0 (75, 0)
  point P1 (12, -301)
  point P2 (12, -501)
  point P3 (21, -301)
  point P4 (21, -501)
  point P5 (30, -301)
  point P6 (30, -501)
  point P7 (39, -301)
  point P8 (39, -501)
  point P9 (48, -301)
  point P10 (48, -501)
  point P11 (57, -301)
  point P12 (57, -501)
  point P13 (66, -301)
  point P14 (66, -501)
  point P15 (75, -301)
  point P16 (75, -501)
  point P17 (84, -301)
  point P18 (84, -501)
  point P19 (93, -301)
  point P20 (93, -501)
  point P21 (102, -301)
  point P22 (102, -501)
  point P23 (111, -301)
  point P24 (111, -501)
  point P25 (120, -301)
  point P26 (120, -501)
  point P27 (129, -301)
  point P28 (129, -501)
  point P29 (138, -301)
  point P30 (138, -501)
  point P31 (31.5, -501)
  point P32 (19.5, -501)
  dimension "d75" = 3
  dimension "d76" = 400
  dimension "d77" = 10.5
  dimension "d80" = 9
extrude "Extrusion11" cut sketch "Sketch6" along normal mid plane 500
ref_plane "Work Plane1" through (-37, -50, -75) normal (-1, 0, 0) x (0, 0, 1)
sketch "Sketch7" plane through (-37, -50, -75) normal (-1, 0, 0) x (0, 0, 1)
  line L0 (81.0078, 47) -> (69.0078, 47) projected
  line L1 (75.0078, 47) -> (125.0078, -39.6025)
  line L2 (75.0078, 47) -> (175.0078, 47) construction
  line L3 (75.0078, 47) -> (75.0078, -53)
  line L4 (69.0078, 50) -> (81.0078, 50) projected
  line L5 (75.0078, 47) -> (175.0078, 47) construction
  line L6 (75.0078, 47) -> (25.0078, -39.6025)
  line L7 (75.0078, 47) -> (175.0078, 47) construction
  point P0 (75, 50)
  dimension "d89" = 100
  dimension "d91" = 100
  dimension "d93" = 100
  dimension "d94" = 30
  dimension "d95" = 90
  dimension "d96" = 30
properties part number "Sensors Holder V2"
